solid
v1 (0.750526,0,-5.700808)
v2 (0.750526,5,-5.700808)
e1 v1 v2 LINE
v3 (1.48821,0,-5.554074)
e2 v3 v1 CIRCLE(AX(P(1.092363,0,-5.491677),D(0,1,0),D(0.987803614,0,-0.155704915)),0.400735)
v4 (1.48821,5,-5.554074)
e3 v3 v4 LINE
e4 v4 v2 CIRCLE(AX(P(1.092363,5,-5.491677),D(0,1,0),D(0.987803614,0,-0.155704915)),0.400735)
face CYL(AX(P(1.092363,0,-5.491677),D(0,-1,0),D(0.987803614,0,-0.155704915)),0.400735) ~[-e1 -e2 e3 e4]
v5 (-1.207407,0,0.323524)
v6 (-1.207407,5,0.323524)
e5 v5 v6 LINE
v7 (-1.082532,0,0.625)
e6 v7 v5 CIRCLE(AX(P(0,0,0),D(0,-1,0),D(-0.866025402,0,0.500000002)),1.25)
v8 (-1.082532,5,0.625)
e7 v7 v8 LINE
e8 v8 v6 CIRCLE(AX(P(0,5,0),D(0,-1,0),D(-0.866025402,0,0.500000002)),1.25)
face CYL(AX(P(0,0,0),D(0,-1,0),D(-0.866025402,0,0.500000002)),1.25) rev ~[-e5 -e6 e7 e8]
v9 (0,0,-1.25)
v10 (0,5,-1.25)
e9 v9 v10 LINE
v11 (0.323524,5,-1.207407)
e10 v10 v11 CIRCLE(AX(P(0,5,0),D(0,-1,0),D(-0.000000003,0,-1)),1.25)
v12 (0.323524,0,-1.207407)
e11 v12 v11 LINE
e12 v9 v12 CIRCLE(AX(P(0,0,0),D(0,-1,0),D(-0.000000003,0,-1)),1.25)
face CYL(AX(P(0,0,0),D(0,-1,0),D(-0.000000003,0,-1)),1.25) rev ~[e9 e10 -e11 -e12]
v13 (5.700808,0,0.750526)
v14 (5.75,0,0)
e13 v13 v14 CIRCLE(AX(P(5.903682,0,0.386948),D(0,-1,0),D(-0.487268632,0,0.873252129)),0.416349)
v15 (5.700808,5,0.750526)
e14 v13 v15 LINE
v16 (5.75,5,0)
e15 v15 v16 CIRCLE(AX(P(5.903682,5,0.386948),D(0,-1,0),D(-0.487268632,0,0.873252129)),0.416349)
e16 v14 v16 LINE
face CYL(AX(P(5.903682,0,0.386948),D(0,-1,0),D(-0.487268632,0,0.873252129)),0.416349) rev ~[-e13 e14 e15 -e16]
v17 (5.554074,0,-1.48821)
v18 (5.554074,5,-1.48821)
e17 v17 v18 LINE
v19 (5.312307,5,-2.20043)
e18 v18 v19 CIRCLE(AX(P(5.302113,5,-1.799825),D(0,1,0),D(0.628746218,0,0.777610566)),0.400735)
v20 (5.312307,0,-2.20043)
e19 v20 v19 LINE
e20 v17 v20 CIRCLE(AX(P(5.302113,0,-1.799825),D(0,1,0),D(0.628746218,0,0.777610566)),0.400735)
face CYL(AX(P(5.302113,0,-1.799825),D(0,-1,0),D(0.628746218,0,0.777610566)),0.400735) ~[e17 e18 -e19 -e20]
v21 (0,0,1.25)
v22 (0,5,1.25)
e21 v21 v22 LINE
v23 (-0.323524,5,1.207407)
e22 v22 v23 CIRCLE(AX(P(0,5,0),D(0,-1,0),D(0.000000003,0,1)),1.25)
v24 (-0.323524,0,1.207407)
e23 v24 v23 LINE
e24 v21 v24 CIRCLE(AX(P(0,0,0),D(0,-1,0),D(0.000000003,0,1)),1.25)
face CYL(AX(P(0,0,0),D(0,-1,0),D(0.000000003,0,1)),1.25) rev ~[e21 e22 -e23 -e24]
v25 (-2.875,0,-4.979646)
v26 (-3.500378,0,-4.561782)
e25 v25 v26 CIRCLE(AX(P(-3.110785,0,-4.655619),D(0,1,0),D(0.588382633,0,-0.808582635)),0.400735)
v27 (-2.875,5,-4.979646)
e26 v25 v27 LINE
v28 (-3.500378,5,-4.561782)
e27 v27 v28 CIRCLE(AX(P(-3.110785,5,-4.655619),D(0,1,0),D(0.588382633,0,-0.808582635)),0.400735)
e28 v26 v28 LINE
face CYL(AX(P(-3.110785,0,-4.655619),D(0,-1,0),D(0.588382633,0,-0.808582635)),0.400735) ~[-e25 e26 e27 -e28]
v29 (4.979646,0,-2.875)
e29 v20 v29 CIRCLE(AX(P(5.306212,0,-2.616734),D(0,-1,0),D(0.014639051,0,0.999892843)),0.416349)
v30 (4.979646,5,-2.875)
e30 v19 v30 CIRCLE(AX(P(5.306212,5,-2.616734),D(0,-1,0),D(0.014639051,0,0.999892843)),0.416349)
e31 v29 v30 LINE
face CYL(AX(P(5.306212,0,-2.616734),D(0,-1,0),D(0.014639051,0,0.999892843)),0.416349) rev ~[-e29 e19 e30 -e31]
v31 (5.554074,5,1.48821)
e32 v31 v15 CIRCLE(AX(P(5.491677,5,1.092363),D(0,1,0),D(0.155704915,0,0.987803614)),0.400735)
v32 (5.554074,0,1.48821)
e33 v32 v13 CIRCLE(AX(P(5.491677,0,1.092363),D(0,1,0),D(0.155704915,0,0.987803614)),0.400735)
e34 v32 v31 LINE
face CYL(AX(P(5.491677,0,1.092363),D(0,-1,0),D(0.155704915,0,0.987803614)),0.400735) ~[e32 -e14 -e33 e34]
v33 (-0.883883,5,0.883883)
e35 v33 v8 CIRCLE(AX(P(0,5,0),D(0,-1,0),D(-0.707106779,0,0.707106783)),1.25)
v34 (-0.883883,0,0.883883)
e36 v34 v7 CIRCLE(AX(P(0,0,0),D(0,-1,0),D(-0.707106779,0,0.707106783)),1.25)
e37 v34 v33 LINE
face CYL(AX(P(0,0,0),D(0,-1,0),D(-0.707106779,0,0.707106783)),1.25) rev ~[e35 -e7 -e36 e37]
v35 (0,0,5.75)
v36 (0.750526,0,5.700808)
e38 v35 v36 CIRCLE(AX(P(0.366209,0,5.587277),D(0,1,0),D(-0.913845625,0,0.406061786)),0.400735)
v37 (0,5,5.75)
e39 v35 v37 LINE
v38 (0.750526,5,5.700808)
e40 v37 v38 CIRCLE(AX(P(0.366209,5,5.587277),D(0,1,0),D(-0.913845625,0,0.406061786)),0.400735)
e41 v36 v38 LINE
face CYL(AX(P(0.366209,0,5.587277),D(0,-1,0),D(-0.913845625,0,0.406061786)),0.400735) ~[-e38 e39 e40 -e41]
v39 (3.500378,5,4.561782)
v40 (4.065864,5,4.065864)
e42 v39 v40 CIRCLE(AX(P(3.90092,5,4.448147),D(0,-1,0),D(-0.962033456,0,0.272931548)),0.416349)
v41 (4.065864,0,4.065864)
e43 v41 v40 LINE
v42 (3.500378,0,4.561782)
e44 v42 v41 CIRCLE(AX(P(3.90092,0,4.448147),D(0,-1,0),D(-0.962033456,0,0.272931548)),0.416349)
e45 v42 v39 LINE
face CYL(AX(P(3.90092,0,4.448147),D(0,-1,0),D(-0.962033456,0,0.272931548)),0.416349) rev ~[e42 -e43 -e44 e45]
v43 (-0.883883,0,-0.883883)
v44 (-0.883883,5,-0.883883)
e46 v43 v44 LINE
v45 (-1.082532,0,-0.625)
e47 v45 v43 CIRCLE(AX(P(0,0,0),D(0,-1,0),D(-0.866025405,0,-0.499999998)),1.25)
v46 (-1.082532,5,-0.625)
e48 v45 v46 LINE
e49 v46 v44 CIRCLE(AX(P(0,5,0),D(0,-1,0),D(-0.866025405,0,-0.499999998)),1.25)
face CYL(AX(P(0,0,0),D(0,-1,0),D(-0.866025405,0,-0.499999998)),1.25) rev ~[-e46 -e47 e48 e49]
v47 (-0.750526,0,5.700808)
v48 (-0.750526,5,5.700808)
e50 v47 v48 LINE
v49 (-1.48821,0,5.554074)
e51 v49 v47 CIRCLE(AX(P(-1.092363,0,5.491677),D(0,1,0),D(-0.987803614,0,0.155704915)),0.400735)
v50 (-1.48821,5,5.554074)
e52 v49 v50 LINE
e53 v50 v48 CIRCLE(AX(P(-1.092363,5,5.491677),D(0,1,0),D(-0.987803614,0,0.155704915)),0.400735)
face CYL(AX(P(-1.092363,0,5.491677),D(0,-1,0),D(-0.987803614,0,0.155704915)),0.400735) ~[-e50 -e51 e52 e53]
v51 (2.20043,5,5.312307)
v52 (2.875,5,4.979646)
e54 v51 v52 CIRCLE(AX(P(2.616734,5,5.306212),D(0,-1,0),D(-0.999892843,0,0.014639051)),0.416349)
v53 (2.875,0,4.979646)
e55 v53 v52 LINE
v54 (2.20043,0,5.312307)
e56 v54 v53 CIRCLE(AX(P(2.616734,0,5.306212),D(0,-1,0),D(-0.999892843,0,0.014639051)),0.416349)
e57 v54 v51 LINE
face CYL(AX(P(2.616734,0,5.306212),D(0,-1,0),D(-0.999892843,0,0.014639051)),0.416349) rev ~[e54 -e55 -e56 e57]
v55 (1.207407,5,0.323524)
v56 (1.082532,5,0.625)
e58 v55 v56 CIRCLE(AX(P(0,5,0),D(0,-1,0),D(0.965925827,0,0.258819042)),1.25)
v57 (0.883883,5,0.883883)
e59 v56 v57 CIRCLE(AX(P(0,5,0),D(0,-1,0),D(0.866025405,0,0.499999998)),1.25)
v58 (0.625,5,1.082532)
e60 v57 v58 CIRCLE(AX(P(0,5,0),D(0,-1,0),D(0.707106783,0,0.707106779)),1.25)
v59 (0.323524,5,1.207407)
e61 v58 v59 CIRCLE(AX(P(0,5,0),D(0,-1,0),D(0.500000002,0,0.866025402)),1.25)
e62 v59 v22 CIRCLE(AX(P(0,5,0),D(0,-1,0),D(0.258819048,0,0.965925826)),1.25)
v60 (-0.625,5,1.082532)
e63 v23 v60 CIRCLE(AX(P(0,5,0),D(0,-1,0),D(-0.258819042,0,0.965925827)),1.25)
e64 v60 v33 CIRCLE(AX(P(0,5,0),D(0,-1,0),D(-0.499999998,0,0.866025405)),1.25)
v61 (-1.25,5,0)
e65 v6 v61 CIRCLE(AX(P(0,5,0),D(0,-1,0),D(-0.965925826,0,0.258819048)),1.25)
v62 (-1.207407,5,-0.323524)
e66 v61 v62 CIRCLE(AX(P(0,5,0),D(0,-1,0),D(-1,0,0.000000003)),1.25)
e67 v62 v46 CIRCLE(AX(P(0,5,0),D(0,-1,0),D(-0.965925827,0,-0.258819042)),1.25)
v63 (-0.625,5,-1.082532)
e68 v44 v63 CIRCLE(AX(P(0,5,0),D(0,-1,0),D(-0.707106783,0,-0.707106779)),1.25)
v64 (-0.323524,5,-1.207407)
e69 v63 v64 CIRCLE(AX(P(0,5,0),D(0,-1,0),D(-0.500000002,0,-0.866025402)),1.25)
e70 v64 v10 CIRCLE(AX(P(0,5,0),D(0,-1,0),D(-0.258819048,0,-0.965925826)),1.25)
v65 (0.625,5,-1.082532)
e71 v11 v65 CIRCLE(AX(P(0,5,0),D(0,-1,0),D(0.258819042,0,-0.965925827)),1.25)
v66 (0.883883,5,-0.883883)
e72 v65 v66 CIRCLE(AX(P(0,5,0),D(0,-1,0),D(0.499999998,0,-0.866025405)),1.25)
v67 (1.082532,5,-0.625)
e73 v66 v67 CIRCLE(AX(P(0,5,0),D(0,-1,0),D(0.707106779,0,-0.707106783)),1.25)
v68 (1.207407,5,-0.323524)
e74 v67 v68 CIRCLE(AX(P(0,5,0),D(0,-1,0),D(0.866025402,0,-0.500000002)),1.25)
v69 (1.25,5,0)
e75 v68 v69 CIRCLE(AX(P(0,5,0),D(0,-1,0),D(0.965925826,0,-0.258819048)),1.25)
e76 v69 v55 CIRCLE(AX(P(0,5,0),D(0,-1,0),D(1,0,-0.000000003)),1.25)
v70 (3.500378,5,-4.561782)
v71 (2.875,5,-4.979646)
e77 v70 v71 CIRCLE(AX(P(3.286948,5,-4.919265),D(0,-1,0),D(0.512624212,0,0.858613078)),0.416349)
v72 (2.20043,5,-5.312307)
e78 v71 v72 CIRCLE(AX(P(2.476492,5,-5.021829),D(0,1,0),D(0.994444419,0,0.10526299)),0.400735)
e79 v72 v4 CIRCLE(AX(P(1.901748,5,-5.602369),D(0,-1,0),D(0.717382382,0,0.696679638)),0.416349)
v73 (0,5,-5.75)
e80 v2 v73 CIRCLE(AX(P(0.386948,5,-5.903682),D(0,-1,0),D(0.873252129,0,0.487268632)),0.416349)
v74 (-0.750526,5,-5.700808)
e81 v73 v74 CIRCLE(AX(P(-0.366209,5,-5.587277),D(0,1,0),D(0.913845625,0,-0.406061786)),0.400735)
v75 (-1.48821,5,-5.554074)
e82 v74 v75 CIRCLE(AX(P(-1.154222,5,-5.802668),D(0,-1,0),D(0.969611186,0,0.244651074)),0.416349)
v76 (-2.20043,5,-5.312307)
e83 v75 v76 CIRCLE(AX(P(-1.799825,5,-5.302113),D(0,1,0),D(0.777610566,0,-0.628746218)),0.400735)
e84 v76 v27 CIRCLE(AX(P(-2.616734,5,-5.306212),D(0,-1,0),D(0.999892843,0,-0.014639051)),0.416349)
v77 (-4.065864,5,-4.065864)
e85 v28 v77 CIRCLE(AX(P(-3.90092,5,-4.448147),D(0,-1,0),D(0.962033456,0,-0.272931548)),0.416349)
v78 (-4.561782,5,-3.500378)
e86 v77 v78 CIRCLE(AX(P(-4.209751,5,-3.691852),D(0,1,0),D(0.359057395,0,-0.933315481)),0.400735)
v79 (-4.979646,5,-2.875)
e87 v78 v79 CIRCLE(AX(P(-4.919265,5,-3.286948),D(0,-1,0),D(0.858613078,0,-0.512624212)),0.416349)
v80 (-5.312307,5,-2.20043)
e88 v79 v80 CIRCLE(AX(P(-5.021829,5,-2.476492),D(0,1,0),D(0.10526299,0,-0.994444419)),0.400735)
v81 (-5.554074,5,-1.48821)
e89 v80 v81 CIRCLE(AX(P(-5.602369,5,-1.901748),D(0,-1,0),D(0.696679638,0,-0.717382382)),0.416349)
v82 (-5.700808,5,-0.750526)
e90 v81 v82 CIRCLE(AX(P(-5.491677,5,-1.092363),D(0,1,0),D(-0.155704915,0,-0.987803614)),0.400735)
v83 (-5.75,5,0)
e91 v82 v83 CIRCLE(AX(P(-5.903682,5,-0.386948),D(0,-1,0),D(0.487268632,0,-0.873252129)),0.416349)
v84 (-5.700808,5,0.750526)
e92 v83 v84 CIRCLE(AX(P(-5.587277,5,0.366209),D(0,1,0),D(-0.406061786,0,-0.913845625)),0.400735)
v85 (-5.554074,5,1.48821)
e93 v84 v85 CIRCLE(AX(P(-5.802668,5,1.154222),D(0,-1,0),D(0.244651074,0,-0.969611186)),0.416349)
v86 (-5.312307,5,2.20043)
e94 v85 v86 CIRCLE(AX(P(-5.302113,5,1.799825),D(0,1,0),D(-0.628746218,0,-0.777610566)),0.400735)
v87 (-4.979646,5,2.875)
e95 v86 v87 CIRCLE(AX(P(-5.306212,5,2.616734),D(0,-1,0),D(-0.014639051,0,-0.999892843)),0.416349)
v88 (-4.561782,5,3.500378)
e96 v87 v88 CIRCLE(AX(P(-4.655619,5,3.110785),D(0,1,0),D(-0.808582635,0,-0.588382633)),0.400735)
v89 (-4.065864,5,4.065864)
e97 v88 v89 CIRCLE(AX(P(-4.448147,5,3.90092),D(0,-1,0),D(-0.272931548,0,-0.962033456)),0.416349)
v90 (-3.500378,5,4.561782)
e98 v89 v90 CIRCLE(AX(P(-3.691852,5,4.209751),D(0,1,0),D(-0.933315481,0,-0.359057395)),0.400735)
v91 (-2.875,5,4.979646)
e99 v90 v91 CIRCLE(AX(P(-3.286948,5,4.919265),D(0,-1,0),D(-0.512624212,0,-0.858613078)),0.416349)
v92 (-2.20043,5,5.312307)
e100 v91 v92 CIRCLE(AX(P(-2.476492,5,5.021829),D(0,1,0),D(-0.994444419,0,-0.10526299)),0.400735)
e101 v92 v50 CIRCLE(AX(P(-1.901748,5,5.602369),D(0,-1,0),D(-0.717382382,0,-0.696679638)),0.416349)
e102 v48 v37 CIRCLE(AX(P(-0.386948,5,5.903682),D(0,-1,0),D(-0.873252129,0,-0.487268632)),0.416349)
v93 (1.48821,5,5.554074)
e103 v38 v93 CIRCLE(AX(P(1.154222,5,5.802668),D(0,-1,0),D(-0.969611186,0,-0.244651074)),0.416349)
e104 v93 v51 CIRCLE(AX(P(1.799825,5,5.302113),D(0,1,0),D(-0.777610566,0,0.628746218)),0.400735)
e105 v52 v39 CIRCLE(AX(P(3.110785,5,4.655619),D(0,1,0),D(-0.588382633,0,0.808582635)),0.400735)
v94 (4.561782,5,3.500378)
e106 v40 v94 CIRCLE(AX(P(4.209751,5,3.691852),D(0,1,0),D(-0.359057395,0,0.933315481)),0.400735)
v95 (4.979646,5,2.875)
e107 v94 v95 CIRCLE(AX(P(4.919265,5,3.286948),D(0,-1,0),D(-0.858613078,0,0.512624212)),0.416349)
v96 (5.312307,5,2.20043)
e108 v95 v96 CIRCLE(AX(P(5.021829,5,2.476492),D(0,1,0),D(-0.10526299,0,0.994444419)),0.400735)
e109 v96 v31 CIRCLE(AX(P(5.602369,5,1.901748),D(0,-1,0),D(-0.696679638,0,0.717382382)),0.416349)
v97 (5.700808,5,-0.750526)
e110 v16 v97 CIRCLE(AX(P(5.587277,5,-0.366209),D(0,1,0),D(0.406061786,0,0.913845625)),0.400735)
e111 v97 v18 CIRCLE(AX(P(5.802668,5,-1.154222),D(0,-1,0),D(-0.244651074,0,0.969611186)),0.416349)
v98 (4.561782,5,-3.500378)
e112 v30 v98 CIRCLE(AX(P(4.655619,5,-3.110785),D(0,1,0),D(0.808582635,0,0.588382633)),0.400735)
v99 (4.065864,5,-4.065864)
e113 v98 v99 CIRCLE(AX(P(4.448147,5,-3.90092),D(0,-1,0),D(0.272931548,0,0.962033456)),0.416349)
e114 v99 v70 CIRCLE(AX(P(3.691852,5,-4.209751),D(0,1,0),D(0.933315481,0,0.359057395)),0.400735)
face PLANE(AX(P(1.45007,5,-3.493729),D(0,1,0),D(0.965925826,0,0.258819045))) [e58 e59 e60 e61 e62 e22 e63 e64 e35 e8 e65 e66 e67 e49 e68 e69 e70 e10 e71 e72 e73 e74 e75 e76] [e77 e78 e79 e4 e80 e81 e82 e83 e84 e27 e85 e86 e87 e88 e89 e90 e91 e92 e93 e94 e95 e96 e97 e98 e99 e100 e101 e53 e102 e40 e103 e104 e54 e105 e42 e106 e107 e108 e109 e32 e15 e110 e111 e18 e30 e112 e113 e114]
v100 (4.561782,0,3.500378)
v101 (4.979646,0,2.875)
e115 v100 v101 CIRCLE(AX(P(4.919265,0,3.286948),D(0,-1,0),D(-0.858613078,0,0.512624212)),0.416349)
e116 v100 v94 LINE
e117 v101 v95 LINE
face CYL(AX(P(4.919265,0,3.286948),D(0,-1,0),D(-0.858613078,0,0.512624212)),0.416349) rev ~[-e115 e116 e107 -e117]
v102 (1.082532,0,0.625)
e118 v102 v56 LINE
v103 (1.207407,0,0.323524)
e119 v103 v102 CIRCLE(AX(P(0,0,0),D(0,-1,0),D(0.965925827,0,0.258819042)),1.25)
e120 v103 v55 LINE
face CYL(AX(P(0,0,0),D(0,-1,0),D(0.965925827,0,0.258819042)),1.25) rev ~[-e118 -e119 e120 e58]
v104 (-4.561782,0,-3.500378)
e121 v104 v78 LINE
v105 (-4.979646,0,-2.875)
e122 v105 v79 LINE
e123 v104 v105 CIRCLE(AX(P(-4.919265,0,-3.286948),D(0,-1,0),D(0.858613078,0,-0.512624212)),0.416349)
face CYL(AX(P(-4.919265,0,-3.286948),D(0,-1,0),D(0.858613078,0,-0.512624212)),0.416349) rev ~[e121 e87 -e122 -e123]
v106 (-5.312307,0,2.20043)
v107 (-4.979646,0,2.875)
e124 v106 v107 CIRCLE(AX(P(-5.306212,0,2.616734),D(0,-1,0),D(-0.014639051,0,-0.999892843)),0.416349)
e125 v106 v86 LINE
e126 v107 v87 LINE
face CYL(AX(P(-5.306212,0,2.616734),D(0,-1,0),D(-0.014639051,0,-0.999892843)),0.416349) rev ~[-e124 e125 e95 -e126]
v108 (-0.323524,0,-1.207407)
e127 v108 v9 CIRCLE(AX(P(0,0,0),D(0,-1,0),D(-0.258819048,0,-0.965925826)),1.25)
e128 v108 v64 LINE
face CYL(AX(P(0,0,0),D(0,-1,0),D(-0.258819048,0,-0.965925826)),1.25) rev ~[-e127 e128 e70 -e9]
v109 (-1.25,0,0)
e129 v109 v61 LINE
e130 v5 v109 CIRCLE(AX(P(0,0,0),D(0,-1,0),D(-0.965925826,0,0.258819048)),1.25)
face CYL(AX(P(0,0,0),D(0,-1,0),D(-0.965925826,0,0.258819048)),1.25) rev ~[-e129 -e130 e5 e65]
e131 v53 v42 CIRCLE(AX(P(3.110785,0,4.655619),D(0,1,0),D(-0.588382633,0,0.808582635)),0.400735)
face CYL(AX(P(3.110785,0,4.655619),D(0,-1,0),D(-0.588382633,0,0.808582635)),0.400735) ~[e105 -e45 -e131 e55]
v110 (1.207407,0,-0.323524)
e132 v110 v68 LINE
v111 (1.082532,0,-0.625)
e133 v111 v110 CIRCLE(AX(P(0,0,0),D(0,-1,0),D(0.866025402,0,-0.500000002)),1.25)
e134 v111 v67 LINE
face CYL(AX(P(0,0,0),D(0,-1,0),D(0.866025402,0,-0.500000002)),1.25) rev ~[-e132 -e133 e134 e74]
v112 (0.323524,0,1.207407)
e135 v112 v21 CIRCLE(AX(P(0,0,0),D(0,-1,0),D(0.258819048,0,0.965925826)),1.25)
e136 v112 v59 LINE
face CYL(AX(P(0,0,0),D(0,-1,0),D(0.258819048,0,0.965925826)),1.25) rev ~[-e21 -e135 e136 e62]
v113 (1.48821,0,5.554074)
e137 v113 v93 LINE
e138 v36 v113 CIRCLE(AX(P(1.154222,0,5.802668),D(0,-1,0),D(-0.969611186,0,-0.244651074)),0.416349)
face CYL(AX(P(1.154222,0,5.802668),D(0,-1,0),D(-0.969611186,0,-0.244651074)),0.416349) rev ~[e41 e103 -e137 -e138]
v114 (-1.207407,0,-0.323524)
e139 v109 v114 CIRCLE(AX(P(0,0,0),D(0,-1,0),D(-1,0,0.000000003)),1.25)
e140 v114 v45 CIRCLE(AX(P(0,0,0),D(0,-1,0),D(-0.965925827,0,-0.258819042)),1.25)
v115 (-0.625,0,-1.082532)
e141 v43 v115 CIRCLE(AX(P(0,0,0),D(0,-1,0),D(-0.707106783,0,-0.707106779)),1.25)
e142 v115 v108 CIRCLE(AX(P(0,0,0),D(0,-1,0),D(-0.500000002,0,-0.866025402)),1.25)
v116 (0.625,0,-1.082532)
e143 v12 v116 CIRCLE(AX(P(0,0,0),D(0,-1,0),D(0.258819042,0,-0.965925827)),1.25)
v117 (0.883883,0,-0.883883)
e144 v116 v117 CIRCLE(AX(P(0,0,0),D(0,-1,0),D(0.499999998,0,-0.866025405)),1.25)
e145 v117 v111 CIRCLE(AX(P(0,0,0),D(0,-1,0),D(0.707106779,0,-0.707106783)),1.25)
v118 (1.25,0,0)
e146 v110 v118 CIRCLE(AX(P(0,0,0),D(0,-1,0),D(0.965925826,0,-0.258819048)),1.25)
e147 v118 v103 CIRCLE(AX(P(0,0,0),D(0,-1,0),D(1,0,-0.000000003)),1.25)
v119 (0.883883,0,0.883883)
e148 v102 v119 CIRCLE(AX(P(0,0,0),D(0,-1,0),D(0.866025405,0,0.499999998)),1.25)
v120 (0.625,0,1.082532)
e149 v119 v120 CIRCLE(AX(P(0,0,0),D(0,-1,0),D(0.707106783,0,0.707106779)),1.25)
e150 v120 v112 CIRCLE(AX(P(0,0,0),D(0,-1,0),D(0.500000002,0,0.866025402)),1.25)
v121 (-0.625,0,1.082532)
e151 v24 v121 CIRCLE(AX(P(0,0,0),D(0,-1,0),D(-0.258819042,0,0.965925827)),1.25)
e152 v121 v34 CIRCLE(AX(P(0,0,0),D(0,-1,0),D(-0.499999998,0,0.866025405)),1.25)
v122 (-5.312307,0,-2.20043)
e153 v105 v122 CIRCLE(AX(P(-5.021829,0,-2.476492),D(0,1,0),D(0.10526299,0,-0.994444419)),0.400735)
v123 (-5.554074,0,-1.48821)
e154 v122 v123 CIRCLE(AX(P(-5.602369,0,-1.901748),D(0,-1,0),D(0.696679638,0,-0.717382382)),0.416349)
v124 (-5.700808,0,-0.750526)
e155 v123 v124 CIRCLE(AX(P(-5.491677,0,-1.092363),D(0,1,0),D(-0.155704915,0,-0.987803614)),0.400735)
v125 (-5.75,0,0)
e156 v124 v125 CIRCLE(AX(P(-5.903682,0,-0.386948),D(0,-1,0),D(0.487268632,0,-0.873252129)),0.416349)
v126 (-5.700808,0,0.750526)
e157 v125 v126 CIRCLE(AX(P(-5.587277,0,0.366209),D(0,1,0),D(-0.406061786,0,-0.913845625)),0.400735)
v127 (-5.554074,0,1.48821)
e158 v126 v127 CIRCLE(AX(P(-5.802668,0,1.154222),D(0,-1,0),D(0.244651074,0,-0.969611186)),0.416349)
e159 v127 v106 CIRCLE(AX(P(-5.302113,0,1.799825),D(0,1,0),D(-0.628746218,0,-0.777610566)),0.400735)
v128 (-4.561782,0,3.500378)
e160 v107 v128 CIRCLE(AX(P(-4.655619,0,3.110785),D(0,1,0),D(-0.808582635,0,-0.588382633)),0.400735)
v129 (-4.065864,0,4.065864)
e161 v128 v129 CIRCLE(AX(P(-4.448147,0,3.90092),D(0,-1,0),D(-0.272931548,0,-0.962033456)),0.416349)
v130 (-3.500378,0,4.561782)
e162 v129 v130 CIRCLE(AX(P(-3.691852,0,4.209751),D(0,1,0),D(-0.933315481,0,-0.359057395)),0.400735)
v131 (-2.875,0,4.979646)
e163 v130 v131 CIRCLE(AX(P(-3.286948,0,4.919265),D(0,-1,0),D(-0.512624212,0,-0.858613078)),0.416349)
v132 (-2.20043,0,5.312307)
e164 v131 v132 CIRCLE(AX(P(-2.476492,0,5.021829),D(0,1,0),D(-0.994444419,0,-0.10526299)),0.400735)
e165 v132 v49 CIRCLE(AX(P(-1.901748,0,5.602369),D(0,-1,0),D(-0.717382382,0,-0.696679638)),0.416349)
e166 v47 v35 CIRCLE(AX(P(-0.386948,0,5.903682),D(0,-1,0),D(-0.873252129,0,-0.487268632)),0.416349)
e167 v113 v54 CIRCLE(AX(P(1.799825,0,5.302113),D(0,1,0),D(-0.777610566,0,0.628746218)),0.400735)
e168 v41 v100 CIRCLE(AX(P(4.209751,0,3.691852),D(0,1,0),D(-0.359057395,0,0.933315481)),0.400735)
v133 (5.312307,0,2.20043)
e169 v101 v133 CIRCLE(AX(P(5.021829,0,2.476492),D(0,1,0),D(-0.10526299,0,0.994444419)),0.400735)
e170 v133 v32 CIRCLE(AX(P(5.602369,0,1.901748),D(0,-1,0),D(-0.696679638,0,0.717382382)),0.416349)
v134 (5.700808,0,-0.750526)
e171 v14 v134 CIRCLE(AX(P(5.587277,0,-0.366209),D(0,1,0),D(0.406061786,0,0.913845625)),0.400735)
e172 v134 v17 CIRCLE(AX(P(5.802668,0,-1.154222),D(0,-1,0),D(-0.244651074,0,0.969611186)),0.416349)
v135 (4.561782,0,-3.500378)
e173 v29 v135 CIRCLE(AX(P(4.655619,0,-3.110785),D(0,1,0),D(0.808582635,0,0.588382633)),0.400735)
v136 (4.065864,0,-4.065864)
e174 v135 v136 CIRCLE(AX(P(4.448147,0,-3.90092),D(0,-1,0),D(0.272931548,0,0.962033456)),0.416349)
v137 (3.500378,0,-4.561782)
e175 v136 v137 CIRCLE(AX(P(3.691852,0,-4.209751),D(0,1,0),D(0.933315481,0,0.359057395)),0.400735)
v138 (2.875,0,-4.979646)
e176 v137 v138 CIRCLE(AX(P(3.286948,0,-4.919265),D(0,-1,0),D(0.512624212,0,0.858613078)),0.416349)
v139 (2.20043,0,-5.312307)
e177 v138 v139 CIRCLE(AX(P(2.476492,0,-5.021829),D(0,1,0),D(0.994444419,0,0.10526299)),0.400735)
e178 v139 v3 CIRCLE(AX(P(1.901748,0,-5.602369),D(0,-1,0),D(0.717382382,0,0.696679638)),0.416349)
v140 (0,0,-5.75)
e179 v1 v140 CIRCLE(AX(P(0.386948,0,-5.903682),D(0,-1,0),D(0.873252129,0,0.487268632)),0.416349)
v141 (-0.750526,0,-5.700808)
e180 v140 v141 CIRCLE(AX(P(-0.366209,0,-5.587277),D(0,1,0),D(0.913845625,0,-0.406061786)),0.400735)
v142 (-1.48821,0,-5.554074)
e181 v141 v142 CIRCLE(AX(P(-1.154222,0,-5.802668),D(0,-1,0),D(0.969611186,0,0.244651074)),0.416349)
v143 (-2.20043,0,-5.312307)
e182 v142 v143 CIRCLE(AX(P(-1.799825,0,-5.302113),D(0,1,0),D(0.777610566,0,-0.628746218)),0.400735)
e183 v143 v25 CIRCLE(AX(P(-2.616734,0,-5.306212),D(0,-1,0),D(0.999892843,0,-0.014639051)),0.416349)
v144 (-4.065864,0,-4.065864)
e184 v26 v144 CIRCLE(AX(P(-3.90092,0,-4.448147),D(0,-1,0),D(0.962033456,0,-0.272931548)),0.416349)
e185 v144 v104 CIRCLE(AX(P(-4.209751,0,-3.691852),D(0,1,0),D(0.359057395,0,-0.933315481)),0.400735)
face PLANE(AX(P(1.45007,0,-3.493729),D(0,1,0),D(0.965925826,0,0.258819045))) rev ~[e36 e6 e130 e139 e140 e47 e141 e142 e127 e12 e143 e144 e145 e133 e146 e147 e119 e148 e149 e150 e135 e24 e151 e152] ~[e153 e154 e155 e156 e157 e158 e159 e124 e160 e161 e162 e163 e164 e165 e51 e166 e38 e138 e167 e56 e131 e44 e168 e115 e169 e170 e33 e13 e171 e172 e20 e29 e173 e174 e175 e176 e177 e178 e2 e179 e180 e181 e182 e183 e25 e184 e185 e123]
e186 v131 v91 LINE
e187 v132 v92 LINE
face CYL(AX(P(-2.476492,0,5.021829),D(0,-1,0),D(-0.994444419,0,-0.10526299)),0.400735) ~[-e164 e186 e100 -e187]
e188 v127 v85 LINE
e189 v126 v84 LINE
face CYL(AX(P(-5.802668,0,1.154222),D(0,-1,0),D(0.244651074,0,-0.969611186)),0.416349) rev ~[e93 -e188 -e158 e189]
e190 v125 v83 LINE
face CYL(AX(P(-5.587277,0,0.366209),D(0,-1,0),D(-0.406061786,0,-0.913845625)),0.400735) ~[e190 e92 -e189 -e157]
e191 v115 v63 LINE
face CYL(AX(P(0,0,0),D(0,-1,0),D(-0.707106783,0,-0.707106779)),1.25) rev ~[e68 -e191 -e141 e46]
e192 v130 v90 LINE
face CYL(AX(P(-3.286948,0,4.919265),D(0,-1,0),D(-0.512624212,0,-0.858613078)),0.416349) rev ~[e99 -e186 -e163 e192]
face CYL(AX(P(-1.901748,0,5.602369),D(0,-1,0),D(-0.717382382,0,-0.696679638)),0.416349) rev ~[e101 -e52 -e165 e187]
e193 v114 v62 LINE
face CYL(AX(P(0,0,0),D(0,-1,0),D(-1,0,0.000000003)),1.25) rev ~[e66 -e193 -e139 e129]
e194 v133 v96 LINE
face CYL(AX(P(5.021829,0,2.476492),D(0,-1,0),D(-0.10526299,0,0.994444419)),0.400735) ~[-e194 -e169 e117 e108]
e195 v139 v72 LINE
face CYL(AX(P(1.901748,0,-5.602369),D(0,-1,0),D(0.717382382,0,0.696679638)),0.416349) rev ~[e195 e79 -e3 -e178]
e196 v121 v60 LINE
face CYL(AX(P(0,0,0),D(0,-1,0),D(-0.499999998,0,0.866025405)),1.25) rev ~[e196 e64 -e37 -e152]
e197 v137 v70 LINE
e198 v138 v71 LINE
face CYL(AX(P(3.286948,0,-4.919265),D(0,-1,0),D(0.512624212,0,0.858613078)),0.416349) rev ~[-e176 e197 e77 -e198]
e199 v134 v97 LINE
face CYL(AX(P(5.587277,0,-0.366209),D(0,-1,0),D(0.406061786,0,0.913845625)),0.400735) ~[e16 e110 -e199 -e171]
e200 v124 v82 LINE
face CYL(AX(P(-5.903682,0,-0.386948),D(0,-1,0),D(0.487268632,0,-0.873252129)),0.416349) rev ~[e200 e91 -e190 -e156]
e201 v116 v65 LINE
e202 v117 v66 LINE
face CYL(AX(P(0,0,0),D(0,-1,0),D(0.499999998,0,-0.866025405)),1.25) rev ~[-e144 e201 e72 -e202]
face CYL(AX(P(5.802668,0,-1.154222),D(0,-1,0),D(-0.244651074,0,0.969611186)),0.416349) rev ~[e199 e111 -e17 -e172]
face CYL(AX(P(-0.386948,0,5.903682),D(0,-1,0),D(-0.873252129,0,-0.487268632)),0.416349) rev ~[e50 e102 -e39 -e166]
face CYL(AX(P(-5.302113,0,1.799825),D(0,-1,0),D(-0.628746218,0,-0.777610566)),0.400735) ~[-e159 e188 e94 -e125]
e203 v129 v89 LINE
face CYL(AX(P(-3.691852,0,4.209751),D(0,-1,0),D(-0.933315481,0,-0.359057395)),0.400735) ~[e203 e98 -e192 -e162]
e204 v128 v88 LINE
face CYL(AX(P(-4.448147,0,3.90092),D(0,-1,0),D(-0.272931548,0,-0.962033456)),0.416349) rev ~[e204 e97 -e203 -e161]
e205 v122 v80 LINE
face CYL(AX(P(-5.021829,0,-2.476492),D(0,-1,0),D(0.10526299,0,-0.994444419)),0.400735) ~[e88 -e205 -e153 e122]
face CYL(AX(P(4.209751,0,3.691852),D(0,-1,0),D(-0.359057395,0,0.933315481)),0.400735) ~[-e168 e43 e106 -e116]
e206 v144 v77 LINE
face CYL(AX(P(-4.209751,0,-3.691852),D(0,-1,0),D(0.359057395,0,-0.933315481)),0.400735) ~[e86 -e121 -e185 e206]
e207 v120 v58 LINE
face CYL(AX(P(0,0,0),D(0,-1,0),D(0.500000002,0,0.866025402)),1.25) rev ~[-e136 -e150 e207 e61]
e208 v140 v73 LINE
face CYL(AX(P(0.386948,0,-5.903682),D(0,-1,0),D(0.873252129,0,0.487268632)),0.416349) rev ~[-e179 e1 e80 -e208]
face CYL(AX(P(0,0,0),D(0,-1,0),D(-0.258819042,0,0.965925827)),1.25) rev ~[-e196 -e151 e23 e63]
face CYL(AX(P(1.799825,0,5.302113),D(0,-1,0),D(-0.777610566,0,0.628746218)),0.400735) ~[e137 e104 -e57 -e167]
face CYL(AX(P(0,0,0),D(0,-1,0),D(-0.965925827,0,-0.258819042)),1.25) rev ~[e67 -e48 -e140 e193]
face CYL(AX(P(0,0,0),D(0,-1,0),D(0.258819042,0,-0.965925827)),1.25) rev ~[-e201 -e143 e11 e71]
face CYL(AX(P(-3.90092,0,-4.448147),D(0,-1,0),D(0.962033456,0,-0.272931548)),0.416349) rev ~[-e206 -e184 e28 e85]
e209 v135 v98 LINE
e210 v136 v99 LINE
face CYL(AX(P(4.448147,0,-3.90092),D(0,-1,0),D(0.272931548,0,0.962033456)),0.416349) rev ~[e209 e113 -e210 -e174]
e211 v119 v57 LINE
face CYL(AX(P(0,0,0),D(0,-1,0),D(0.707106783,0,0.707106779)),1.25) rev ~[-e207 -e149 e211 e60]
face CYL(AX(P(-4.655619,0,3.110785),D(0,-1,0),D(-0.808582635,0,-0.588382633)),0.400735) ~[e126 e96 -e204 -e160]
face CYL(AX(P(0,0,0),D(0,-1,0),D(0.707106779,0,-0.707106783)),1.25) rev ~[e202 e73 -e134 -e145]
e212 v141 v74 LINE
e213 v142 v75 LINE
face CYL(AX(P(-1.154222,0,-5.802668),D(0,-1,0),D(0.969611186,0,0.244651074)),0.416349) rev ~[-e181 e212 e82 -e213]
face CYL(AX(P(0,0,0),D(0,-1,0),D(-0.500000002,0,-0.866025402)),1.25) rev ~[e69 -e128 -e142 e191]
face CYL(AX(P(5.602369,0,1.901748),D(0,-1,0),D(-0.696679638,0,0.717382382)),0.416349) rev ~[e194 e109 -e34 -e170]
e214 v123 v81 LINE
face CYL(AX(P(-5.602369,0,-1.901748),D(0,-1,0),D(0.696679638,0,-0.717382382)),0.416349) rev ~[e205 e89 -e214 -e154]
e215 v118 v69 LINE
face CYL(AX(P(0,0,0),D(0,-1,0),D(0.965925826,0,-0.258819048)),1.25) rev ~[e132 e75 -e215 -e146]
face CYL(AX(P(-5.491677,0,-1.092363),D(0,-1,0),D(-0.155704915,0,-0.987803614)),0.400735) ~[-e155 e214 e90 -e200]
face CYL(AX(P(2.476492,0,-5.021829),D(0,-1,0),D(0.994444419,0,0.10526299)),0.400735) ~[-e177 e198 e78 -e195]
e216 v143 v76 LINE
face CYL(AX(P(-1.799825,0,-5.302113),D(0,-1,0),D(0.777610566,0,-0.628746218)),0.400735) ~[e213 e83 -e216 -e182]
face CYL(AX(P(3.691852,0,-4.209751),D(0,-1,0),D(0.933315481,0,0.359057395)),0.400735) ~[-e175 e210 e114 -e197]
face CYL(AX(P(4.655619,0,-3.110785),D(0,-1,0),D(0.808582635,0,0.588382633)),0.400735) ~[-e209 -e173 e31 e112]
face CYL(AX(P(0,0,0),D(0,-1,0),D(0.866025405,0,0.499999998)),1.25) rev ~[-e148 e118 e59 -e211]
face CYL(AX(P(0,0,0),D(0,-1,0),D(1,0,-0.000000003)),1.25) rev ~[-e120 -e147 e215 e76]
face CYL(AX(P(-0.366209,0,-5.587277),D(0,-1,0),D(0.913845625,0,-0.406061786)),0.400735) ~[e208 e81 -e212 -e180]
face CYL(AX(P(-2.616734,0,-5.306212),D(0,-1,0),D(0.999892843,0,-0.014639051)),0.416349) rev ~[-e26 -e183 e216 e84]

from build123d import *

# Parameters (mm, degrees)
BOSS_EXTRUDE1_DEPTH = 5
CIRPATTERN1_COUNT   = 24


with BuildPart() as part:
    # Sketch1 → Boss-Extrude1 (new body)
    with BuildSketch(Plane(origin=(0, 0, 0), x_dir=(1, 0, 0), z_dir=(0, 1, 0))):
        with BuildLine():
            Line((0, 5.75), (0, 1.25))
            ThreePointArc((0, 1.25), (0.16315774, 1.239306077), (0.323523806, 1.207407283))
            Line((0.323523806, 1.207407283), (1.488209509, 5.554073501))
            ThreePointArc((1.488209509, 5.554073501), (1.170541932, 5.884711682), (0.750525605, 5.700807953))
            ThreePointArc((0.750525605, 5.700807953), (0.359717211, 5.488224078), (0, 5.75))
        make_face()
    boss_extrude1 = extrude(amount=BOSS_EXTRUDE1_DEPTH)

    # CirPattern1: Boss-Extrude1 ×24 about axis
    cirpattern1_axis = Axis((0, 0, 0), (0, 1, 0))
    for i in range(1, CIRPATTERN1_COUNT):
        add(boss_extrude1.rotate(cirpattern1_axis, i * 360 / CIRPATTERN1_COUNT))


solid = part.part
